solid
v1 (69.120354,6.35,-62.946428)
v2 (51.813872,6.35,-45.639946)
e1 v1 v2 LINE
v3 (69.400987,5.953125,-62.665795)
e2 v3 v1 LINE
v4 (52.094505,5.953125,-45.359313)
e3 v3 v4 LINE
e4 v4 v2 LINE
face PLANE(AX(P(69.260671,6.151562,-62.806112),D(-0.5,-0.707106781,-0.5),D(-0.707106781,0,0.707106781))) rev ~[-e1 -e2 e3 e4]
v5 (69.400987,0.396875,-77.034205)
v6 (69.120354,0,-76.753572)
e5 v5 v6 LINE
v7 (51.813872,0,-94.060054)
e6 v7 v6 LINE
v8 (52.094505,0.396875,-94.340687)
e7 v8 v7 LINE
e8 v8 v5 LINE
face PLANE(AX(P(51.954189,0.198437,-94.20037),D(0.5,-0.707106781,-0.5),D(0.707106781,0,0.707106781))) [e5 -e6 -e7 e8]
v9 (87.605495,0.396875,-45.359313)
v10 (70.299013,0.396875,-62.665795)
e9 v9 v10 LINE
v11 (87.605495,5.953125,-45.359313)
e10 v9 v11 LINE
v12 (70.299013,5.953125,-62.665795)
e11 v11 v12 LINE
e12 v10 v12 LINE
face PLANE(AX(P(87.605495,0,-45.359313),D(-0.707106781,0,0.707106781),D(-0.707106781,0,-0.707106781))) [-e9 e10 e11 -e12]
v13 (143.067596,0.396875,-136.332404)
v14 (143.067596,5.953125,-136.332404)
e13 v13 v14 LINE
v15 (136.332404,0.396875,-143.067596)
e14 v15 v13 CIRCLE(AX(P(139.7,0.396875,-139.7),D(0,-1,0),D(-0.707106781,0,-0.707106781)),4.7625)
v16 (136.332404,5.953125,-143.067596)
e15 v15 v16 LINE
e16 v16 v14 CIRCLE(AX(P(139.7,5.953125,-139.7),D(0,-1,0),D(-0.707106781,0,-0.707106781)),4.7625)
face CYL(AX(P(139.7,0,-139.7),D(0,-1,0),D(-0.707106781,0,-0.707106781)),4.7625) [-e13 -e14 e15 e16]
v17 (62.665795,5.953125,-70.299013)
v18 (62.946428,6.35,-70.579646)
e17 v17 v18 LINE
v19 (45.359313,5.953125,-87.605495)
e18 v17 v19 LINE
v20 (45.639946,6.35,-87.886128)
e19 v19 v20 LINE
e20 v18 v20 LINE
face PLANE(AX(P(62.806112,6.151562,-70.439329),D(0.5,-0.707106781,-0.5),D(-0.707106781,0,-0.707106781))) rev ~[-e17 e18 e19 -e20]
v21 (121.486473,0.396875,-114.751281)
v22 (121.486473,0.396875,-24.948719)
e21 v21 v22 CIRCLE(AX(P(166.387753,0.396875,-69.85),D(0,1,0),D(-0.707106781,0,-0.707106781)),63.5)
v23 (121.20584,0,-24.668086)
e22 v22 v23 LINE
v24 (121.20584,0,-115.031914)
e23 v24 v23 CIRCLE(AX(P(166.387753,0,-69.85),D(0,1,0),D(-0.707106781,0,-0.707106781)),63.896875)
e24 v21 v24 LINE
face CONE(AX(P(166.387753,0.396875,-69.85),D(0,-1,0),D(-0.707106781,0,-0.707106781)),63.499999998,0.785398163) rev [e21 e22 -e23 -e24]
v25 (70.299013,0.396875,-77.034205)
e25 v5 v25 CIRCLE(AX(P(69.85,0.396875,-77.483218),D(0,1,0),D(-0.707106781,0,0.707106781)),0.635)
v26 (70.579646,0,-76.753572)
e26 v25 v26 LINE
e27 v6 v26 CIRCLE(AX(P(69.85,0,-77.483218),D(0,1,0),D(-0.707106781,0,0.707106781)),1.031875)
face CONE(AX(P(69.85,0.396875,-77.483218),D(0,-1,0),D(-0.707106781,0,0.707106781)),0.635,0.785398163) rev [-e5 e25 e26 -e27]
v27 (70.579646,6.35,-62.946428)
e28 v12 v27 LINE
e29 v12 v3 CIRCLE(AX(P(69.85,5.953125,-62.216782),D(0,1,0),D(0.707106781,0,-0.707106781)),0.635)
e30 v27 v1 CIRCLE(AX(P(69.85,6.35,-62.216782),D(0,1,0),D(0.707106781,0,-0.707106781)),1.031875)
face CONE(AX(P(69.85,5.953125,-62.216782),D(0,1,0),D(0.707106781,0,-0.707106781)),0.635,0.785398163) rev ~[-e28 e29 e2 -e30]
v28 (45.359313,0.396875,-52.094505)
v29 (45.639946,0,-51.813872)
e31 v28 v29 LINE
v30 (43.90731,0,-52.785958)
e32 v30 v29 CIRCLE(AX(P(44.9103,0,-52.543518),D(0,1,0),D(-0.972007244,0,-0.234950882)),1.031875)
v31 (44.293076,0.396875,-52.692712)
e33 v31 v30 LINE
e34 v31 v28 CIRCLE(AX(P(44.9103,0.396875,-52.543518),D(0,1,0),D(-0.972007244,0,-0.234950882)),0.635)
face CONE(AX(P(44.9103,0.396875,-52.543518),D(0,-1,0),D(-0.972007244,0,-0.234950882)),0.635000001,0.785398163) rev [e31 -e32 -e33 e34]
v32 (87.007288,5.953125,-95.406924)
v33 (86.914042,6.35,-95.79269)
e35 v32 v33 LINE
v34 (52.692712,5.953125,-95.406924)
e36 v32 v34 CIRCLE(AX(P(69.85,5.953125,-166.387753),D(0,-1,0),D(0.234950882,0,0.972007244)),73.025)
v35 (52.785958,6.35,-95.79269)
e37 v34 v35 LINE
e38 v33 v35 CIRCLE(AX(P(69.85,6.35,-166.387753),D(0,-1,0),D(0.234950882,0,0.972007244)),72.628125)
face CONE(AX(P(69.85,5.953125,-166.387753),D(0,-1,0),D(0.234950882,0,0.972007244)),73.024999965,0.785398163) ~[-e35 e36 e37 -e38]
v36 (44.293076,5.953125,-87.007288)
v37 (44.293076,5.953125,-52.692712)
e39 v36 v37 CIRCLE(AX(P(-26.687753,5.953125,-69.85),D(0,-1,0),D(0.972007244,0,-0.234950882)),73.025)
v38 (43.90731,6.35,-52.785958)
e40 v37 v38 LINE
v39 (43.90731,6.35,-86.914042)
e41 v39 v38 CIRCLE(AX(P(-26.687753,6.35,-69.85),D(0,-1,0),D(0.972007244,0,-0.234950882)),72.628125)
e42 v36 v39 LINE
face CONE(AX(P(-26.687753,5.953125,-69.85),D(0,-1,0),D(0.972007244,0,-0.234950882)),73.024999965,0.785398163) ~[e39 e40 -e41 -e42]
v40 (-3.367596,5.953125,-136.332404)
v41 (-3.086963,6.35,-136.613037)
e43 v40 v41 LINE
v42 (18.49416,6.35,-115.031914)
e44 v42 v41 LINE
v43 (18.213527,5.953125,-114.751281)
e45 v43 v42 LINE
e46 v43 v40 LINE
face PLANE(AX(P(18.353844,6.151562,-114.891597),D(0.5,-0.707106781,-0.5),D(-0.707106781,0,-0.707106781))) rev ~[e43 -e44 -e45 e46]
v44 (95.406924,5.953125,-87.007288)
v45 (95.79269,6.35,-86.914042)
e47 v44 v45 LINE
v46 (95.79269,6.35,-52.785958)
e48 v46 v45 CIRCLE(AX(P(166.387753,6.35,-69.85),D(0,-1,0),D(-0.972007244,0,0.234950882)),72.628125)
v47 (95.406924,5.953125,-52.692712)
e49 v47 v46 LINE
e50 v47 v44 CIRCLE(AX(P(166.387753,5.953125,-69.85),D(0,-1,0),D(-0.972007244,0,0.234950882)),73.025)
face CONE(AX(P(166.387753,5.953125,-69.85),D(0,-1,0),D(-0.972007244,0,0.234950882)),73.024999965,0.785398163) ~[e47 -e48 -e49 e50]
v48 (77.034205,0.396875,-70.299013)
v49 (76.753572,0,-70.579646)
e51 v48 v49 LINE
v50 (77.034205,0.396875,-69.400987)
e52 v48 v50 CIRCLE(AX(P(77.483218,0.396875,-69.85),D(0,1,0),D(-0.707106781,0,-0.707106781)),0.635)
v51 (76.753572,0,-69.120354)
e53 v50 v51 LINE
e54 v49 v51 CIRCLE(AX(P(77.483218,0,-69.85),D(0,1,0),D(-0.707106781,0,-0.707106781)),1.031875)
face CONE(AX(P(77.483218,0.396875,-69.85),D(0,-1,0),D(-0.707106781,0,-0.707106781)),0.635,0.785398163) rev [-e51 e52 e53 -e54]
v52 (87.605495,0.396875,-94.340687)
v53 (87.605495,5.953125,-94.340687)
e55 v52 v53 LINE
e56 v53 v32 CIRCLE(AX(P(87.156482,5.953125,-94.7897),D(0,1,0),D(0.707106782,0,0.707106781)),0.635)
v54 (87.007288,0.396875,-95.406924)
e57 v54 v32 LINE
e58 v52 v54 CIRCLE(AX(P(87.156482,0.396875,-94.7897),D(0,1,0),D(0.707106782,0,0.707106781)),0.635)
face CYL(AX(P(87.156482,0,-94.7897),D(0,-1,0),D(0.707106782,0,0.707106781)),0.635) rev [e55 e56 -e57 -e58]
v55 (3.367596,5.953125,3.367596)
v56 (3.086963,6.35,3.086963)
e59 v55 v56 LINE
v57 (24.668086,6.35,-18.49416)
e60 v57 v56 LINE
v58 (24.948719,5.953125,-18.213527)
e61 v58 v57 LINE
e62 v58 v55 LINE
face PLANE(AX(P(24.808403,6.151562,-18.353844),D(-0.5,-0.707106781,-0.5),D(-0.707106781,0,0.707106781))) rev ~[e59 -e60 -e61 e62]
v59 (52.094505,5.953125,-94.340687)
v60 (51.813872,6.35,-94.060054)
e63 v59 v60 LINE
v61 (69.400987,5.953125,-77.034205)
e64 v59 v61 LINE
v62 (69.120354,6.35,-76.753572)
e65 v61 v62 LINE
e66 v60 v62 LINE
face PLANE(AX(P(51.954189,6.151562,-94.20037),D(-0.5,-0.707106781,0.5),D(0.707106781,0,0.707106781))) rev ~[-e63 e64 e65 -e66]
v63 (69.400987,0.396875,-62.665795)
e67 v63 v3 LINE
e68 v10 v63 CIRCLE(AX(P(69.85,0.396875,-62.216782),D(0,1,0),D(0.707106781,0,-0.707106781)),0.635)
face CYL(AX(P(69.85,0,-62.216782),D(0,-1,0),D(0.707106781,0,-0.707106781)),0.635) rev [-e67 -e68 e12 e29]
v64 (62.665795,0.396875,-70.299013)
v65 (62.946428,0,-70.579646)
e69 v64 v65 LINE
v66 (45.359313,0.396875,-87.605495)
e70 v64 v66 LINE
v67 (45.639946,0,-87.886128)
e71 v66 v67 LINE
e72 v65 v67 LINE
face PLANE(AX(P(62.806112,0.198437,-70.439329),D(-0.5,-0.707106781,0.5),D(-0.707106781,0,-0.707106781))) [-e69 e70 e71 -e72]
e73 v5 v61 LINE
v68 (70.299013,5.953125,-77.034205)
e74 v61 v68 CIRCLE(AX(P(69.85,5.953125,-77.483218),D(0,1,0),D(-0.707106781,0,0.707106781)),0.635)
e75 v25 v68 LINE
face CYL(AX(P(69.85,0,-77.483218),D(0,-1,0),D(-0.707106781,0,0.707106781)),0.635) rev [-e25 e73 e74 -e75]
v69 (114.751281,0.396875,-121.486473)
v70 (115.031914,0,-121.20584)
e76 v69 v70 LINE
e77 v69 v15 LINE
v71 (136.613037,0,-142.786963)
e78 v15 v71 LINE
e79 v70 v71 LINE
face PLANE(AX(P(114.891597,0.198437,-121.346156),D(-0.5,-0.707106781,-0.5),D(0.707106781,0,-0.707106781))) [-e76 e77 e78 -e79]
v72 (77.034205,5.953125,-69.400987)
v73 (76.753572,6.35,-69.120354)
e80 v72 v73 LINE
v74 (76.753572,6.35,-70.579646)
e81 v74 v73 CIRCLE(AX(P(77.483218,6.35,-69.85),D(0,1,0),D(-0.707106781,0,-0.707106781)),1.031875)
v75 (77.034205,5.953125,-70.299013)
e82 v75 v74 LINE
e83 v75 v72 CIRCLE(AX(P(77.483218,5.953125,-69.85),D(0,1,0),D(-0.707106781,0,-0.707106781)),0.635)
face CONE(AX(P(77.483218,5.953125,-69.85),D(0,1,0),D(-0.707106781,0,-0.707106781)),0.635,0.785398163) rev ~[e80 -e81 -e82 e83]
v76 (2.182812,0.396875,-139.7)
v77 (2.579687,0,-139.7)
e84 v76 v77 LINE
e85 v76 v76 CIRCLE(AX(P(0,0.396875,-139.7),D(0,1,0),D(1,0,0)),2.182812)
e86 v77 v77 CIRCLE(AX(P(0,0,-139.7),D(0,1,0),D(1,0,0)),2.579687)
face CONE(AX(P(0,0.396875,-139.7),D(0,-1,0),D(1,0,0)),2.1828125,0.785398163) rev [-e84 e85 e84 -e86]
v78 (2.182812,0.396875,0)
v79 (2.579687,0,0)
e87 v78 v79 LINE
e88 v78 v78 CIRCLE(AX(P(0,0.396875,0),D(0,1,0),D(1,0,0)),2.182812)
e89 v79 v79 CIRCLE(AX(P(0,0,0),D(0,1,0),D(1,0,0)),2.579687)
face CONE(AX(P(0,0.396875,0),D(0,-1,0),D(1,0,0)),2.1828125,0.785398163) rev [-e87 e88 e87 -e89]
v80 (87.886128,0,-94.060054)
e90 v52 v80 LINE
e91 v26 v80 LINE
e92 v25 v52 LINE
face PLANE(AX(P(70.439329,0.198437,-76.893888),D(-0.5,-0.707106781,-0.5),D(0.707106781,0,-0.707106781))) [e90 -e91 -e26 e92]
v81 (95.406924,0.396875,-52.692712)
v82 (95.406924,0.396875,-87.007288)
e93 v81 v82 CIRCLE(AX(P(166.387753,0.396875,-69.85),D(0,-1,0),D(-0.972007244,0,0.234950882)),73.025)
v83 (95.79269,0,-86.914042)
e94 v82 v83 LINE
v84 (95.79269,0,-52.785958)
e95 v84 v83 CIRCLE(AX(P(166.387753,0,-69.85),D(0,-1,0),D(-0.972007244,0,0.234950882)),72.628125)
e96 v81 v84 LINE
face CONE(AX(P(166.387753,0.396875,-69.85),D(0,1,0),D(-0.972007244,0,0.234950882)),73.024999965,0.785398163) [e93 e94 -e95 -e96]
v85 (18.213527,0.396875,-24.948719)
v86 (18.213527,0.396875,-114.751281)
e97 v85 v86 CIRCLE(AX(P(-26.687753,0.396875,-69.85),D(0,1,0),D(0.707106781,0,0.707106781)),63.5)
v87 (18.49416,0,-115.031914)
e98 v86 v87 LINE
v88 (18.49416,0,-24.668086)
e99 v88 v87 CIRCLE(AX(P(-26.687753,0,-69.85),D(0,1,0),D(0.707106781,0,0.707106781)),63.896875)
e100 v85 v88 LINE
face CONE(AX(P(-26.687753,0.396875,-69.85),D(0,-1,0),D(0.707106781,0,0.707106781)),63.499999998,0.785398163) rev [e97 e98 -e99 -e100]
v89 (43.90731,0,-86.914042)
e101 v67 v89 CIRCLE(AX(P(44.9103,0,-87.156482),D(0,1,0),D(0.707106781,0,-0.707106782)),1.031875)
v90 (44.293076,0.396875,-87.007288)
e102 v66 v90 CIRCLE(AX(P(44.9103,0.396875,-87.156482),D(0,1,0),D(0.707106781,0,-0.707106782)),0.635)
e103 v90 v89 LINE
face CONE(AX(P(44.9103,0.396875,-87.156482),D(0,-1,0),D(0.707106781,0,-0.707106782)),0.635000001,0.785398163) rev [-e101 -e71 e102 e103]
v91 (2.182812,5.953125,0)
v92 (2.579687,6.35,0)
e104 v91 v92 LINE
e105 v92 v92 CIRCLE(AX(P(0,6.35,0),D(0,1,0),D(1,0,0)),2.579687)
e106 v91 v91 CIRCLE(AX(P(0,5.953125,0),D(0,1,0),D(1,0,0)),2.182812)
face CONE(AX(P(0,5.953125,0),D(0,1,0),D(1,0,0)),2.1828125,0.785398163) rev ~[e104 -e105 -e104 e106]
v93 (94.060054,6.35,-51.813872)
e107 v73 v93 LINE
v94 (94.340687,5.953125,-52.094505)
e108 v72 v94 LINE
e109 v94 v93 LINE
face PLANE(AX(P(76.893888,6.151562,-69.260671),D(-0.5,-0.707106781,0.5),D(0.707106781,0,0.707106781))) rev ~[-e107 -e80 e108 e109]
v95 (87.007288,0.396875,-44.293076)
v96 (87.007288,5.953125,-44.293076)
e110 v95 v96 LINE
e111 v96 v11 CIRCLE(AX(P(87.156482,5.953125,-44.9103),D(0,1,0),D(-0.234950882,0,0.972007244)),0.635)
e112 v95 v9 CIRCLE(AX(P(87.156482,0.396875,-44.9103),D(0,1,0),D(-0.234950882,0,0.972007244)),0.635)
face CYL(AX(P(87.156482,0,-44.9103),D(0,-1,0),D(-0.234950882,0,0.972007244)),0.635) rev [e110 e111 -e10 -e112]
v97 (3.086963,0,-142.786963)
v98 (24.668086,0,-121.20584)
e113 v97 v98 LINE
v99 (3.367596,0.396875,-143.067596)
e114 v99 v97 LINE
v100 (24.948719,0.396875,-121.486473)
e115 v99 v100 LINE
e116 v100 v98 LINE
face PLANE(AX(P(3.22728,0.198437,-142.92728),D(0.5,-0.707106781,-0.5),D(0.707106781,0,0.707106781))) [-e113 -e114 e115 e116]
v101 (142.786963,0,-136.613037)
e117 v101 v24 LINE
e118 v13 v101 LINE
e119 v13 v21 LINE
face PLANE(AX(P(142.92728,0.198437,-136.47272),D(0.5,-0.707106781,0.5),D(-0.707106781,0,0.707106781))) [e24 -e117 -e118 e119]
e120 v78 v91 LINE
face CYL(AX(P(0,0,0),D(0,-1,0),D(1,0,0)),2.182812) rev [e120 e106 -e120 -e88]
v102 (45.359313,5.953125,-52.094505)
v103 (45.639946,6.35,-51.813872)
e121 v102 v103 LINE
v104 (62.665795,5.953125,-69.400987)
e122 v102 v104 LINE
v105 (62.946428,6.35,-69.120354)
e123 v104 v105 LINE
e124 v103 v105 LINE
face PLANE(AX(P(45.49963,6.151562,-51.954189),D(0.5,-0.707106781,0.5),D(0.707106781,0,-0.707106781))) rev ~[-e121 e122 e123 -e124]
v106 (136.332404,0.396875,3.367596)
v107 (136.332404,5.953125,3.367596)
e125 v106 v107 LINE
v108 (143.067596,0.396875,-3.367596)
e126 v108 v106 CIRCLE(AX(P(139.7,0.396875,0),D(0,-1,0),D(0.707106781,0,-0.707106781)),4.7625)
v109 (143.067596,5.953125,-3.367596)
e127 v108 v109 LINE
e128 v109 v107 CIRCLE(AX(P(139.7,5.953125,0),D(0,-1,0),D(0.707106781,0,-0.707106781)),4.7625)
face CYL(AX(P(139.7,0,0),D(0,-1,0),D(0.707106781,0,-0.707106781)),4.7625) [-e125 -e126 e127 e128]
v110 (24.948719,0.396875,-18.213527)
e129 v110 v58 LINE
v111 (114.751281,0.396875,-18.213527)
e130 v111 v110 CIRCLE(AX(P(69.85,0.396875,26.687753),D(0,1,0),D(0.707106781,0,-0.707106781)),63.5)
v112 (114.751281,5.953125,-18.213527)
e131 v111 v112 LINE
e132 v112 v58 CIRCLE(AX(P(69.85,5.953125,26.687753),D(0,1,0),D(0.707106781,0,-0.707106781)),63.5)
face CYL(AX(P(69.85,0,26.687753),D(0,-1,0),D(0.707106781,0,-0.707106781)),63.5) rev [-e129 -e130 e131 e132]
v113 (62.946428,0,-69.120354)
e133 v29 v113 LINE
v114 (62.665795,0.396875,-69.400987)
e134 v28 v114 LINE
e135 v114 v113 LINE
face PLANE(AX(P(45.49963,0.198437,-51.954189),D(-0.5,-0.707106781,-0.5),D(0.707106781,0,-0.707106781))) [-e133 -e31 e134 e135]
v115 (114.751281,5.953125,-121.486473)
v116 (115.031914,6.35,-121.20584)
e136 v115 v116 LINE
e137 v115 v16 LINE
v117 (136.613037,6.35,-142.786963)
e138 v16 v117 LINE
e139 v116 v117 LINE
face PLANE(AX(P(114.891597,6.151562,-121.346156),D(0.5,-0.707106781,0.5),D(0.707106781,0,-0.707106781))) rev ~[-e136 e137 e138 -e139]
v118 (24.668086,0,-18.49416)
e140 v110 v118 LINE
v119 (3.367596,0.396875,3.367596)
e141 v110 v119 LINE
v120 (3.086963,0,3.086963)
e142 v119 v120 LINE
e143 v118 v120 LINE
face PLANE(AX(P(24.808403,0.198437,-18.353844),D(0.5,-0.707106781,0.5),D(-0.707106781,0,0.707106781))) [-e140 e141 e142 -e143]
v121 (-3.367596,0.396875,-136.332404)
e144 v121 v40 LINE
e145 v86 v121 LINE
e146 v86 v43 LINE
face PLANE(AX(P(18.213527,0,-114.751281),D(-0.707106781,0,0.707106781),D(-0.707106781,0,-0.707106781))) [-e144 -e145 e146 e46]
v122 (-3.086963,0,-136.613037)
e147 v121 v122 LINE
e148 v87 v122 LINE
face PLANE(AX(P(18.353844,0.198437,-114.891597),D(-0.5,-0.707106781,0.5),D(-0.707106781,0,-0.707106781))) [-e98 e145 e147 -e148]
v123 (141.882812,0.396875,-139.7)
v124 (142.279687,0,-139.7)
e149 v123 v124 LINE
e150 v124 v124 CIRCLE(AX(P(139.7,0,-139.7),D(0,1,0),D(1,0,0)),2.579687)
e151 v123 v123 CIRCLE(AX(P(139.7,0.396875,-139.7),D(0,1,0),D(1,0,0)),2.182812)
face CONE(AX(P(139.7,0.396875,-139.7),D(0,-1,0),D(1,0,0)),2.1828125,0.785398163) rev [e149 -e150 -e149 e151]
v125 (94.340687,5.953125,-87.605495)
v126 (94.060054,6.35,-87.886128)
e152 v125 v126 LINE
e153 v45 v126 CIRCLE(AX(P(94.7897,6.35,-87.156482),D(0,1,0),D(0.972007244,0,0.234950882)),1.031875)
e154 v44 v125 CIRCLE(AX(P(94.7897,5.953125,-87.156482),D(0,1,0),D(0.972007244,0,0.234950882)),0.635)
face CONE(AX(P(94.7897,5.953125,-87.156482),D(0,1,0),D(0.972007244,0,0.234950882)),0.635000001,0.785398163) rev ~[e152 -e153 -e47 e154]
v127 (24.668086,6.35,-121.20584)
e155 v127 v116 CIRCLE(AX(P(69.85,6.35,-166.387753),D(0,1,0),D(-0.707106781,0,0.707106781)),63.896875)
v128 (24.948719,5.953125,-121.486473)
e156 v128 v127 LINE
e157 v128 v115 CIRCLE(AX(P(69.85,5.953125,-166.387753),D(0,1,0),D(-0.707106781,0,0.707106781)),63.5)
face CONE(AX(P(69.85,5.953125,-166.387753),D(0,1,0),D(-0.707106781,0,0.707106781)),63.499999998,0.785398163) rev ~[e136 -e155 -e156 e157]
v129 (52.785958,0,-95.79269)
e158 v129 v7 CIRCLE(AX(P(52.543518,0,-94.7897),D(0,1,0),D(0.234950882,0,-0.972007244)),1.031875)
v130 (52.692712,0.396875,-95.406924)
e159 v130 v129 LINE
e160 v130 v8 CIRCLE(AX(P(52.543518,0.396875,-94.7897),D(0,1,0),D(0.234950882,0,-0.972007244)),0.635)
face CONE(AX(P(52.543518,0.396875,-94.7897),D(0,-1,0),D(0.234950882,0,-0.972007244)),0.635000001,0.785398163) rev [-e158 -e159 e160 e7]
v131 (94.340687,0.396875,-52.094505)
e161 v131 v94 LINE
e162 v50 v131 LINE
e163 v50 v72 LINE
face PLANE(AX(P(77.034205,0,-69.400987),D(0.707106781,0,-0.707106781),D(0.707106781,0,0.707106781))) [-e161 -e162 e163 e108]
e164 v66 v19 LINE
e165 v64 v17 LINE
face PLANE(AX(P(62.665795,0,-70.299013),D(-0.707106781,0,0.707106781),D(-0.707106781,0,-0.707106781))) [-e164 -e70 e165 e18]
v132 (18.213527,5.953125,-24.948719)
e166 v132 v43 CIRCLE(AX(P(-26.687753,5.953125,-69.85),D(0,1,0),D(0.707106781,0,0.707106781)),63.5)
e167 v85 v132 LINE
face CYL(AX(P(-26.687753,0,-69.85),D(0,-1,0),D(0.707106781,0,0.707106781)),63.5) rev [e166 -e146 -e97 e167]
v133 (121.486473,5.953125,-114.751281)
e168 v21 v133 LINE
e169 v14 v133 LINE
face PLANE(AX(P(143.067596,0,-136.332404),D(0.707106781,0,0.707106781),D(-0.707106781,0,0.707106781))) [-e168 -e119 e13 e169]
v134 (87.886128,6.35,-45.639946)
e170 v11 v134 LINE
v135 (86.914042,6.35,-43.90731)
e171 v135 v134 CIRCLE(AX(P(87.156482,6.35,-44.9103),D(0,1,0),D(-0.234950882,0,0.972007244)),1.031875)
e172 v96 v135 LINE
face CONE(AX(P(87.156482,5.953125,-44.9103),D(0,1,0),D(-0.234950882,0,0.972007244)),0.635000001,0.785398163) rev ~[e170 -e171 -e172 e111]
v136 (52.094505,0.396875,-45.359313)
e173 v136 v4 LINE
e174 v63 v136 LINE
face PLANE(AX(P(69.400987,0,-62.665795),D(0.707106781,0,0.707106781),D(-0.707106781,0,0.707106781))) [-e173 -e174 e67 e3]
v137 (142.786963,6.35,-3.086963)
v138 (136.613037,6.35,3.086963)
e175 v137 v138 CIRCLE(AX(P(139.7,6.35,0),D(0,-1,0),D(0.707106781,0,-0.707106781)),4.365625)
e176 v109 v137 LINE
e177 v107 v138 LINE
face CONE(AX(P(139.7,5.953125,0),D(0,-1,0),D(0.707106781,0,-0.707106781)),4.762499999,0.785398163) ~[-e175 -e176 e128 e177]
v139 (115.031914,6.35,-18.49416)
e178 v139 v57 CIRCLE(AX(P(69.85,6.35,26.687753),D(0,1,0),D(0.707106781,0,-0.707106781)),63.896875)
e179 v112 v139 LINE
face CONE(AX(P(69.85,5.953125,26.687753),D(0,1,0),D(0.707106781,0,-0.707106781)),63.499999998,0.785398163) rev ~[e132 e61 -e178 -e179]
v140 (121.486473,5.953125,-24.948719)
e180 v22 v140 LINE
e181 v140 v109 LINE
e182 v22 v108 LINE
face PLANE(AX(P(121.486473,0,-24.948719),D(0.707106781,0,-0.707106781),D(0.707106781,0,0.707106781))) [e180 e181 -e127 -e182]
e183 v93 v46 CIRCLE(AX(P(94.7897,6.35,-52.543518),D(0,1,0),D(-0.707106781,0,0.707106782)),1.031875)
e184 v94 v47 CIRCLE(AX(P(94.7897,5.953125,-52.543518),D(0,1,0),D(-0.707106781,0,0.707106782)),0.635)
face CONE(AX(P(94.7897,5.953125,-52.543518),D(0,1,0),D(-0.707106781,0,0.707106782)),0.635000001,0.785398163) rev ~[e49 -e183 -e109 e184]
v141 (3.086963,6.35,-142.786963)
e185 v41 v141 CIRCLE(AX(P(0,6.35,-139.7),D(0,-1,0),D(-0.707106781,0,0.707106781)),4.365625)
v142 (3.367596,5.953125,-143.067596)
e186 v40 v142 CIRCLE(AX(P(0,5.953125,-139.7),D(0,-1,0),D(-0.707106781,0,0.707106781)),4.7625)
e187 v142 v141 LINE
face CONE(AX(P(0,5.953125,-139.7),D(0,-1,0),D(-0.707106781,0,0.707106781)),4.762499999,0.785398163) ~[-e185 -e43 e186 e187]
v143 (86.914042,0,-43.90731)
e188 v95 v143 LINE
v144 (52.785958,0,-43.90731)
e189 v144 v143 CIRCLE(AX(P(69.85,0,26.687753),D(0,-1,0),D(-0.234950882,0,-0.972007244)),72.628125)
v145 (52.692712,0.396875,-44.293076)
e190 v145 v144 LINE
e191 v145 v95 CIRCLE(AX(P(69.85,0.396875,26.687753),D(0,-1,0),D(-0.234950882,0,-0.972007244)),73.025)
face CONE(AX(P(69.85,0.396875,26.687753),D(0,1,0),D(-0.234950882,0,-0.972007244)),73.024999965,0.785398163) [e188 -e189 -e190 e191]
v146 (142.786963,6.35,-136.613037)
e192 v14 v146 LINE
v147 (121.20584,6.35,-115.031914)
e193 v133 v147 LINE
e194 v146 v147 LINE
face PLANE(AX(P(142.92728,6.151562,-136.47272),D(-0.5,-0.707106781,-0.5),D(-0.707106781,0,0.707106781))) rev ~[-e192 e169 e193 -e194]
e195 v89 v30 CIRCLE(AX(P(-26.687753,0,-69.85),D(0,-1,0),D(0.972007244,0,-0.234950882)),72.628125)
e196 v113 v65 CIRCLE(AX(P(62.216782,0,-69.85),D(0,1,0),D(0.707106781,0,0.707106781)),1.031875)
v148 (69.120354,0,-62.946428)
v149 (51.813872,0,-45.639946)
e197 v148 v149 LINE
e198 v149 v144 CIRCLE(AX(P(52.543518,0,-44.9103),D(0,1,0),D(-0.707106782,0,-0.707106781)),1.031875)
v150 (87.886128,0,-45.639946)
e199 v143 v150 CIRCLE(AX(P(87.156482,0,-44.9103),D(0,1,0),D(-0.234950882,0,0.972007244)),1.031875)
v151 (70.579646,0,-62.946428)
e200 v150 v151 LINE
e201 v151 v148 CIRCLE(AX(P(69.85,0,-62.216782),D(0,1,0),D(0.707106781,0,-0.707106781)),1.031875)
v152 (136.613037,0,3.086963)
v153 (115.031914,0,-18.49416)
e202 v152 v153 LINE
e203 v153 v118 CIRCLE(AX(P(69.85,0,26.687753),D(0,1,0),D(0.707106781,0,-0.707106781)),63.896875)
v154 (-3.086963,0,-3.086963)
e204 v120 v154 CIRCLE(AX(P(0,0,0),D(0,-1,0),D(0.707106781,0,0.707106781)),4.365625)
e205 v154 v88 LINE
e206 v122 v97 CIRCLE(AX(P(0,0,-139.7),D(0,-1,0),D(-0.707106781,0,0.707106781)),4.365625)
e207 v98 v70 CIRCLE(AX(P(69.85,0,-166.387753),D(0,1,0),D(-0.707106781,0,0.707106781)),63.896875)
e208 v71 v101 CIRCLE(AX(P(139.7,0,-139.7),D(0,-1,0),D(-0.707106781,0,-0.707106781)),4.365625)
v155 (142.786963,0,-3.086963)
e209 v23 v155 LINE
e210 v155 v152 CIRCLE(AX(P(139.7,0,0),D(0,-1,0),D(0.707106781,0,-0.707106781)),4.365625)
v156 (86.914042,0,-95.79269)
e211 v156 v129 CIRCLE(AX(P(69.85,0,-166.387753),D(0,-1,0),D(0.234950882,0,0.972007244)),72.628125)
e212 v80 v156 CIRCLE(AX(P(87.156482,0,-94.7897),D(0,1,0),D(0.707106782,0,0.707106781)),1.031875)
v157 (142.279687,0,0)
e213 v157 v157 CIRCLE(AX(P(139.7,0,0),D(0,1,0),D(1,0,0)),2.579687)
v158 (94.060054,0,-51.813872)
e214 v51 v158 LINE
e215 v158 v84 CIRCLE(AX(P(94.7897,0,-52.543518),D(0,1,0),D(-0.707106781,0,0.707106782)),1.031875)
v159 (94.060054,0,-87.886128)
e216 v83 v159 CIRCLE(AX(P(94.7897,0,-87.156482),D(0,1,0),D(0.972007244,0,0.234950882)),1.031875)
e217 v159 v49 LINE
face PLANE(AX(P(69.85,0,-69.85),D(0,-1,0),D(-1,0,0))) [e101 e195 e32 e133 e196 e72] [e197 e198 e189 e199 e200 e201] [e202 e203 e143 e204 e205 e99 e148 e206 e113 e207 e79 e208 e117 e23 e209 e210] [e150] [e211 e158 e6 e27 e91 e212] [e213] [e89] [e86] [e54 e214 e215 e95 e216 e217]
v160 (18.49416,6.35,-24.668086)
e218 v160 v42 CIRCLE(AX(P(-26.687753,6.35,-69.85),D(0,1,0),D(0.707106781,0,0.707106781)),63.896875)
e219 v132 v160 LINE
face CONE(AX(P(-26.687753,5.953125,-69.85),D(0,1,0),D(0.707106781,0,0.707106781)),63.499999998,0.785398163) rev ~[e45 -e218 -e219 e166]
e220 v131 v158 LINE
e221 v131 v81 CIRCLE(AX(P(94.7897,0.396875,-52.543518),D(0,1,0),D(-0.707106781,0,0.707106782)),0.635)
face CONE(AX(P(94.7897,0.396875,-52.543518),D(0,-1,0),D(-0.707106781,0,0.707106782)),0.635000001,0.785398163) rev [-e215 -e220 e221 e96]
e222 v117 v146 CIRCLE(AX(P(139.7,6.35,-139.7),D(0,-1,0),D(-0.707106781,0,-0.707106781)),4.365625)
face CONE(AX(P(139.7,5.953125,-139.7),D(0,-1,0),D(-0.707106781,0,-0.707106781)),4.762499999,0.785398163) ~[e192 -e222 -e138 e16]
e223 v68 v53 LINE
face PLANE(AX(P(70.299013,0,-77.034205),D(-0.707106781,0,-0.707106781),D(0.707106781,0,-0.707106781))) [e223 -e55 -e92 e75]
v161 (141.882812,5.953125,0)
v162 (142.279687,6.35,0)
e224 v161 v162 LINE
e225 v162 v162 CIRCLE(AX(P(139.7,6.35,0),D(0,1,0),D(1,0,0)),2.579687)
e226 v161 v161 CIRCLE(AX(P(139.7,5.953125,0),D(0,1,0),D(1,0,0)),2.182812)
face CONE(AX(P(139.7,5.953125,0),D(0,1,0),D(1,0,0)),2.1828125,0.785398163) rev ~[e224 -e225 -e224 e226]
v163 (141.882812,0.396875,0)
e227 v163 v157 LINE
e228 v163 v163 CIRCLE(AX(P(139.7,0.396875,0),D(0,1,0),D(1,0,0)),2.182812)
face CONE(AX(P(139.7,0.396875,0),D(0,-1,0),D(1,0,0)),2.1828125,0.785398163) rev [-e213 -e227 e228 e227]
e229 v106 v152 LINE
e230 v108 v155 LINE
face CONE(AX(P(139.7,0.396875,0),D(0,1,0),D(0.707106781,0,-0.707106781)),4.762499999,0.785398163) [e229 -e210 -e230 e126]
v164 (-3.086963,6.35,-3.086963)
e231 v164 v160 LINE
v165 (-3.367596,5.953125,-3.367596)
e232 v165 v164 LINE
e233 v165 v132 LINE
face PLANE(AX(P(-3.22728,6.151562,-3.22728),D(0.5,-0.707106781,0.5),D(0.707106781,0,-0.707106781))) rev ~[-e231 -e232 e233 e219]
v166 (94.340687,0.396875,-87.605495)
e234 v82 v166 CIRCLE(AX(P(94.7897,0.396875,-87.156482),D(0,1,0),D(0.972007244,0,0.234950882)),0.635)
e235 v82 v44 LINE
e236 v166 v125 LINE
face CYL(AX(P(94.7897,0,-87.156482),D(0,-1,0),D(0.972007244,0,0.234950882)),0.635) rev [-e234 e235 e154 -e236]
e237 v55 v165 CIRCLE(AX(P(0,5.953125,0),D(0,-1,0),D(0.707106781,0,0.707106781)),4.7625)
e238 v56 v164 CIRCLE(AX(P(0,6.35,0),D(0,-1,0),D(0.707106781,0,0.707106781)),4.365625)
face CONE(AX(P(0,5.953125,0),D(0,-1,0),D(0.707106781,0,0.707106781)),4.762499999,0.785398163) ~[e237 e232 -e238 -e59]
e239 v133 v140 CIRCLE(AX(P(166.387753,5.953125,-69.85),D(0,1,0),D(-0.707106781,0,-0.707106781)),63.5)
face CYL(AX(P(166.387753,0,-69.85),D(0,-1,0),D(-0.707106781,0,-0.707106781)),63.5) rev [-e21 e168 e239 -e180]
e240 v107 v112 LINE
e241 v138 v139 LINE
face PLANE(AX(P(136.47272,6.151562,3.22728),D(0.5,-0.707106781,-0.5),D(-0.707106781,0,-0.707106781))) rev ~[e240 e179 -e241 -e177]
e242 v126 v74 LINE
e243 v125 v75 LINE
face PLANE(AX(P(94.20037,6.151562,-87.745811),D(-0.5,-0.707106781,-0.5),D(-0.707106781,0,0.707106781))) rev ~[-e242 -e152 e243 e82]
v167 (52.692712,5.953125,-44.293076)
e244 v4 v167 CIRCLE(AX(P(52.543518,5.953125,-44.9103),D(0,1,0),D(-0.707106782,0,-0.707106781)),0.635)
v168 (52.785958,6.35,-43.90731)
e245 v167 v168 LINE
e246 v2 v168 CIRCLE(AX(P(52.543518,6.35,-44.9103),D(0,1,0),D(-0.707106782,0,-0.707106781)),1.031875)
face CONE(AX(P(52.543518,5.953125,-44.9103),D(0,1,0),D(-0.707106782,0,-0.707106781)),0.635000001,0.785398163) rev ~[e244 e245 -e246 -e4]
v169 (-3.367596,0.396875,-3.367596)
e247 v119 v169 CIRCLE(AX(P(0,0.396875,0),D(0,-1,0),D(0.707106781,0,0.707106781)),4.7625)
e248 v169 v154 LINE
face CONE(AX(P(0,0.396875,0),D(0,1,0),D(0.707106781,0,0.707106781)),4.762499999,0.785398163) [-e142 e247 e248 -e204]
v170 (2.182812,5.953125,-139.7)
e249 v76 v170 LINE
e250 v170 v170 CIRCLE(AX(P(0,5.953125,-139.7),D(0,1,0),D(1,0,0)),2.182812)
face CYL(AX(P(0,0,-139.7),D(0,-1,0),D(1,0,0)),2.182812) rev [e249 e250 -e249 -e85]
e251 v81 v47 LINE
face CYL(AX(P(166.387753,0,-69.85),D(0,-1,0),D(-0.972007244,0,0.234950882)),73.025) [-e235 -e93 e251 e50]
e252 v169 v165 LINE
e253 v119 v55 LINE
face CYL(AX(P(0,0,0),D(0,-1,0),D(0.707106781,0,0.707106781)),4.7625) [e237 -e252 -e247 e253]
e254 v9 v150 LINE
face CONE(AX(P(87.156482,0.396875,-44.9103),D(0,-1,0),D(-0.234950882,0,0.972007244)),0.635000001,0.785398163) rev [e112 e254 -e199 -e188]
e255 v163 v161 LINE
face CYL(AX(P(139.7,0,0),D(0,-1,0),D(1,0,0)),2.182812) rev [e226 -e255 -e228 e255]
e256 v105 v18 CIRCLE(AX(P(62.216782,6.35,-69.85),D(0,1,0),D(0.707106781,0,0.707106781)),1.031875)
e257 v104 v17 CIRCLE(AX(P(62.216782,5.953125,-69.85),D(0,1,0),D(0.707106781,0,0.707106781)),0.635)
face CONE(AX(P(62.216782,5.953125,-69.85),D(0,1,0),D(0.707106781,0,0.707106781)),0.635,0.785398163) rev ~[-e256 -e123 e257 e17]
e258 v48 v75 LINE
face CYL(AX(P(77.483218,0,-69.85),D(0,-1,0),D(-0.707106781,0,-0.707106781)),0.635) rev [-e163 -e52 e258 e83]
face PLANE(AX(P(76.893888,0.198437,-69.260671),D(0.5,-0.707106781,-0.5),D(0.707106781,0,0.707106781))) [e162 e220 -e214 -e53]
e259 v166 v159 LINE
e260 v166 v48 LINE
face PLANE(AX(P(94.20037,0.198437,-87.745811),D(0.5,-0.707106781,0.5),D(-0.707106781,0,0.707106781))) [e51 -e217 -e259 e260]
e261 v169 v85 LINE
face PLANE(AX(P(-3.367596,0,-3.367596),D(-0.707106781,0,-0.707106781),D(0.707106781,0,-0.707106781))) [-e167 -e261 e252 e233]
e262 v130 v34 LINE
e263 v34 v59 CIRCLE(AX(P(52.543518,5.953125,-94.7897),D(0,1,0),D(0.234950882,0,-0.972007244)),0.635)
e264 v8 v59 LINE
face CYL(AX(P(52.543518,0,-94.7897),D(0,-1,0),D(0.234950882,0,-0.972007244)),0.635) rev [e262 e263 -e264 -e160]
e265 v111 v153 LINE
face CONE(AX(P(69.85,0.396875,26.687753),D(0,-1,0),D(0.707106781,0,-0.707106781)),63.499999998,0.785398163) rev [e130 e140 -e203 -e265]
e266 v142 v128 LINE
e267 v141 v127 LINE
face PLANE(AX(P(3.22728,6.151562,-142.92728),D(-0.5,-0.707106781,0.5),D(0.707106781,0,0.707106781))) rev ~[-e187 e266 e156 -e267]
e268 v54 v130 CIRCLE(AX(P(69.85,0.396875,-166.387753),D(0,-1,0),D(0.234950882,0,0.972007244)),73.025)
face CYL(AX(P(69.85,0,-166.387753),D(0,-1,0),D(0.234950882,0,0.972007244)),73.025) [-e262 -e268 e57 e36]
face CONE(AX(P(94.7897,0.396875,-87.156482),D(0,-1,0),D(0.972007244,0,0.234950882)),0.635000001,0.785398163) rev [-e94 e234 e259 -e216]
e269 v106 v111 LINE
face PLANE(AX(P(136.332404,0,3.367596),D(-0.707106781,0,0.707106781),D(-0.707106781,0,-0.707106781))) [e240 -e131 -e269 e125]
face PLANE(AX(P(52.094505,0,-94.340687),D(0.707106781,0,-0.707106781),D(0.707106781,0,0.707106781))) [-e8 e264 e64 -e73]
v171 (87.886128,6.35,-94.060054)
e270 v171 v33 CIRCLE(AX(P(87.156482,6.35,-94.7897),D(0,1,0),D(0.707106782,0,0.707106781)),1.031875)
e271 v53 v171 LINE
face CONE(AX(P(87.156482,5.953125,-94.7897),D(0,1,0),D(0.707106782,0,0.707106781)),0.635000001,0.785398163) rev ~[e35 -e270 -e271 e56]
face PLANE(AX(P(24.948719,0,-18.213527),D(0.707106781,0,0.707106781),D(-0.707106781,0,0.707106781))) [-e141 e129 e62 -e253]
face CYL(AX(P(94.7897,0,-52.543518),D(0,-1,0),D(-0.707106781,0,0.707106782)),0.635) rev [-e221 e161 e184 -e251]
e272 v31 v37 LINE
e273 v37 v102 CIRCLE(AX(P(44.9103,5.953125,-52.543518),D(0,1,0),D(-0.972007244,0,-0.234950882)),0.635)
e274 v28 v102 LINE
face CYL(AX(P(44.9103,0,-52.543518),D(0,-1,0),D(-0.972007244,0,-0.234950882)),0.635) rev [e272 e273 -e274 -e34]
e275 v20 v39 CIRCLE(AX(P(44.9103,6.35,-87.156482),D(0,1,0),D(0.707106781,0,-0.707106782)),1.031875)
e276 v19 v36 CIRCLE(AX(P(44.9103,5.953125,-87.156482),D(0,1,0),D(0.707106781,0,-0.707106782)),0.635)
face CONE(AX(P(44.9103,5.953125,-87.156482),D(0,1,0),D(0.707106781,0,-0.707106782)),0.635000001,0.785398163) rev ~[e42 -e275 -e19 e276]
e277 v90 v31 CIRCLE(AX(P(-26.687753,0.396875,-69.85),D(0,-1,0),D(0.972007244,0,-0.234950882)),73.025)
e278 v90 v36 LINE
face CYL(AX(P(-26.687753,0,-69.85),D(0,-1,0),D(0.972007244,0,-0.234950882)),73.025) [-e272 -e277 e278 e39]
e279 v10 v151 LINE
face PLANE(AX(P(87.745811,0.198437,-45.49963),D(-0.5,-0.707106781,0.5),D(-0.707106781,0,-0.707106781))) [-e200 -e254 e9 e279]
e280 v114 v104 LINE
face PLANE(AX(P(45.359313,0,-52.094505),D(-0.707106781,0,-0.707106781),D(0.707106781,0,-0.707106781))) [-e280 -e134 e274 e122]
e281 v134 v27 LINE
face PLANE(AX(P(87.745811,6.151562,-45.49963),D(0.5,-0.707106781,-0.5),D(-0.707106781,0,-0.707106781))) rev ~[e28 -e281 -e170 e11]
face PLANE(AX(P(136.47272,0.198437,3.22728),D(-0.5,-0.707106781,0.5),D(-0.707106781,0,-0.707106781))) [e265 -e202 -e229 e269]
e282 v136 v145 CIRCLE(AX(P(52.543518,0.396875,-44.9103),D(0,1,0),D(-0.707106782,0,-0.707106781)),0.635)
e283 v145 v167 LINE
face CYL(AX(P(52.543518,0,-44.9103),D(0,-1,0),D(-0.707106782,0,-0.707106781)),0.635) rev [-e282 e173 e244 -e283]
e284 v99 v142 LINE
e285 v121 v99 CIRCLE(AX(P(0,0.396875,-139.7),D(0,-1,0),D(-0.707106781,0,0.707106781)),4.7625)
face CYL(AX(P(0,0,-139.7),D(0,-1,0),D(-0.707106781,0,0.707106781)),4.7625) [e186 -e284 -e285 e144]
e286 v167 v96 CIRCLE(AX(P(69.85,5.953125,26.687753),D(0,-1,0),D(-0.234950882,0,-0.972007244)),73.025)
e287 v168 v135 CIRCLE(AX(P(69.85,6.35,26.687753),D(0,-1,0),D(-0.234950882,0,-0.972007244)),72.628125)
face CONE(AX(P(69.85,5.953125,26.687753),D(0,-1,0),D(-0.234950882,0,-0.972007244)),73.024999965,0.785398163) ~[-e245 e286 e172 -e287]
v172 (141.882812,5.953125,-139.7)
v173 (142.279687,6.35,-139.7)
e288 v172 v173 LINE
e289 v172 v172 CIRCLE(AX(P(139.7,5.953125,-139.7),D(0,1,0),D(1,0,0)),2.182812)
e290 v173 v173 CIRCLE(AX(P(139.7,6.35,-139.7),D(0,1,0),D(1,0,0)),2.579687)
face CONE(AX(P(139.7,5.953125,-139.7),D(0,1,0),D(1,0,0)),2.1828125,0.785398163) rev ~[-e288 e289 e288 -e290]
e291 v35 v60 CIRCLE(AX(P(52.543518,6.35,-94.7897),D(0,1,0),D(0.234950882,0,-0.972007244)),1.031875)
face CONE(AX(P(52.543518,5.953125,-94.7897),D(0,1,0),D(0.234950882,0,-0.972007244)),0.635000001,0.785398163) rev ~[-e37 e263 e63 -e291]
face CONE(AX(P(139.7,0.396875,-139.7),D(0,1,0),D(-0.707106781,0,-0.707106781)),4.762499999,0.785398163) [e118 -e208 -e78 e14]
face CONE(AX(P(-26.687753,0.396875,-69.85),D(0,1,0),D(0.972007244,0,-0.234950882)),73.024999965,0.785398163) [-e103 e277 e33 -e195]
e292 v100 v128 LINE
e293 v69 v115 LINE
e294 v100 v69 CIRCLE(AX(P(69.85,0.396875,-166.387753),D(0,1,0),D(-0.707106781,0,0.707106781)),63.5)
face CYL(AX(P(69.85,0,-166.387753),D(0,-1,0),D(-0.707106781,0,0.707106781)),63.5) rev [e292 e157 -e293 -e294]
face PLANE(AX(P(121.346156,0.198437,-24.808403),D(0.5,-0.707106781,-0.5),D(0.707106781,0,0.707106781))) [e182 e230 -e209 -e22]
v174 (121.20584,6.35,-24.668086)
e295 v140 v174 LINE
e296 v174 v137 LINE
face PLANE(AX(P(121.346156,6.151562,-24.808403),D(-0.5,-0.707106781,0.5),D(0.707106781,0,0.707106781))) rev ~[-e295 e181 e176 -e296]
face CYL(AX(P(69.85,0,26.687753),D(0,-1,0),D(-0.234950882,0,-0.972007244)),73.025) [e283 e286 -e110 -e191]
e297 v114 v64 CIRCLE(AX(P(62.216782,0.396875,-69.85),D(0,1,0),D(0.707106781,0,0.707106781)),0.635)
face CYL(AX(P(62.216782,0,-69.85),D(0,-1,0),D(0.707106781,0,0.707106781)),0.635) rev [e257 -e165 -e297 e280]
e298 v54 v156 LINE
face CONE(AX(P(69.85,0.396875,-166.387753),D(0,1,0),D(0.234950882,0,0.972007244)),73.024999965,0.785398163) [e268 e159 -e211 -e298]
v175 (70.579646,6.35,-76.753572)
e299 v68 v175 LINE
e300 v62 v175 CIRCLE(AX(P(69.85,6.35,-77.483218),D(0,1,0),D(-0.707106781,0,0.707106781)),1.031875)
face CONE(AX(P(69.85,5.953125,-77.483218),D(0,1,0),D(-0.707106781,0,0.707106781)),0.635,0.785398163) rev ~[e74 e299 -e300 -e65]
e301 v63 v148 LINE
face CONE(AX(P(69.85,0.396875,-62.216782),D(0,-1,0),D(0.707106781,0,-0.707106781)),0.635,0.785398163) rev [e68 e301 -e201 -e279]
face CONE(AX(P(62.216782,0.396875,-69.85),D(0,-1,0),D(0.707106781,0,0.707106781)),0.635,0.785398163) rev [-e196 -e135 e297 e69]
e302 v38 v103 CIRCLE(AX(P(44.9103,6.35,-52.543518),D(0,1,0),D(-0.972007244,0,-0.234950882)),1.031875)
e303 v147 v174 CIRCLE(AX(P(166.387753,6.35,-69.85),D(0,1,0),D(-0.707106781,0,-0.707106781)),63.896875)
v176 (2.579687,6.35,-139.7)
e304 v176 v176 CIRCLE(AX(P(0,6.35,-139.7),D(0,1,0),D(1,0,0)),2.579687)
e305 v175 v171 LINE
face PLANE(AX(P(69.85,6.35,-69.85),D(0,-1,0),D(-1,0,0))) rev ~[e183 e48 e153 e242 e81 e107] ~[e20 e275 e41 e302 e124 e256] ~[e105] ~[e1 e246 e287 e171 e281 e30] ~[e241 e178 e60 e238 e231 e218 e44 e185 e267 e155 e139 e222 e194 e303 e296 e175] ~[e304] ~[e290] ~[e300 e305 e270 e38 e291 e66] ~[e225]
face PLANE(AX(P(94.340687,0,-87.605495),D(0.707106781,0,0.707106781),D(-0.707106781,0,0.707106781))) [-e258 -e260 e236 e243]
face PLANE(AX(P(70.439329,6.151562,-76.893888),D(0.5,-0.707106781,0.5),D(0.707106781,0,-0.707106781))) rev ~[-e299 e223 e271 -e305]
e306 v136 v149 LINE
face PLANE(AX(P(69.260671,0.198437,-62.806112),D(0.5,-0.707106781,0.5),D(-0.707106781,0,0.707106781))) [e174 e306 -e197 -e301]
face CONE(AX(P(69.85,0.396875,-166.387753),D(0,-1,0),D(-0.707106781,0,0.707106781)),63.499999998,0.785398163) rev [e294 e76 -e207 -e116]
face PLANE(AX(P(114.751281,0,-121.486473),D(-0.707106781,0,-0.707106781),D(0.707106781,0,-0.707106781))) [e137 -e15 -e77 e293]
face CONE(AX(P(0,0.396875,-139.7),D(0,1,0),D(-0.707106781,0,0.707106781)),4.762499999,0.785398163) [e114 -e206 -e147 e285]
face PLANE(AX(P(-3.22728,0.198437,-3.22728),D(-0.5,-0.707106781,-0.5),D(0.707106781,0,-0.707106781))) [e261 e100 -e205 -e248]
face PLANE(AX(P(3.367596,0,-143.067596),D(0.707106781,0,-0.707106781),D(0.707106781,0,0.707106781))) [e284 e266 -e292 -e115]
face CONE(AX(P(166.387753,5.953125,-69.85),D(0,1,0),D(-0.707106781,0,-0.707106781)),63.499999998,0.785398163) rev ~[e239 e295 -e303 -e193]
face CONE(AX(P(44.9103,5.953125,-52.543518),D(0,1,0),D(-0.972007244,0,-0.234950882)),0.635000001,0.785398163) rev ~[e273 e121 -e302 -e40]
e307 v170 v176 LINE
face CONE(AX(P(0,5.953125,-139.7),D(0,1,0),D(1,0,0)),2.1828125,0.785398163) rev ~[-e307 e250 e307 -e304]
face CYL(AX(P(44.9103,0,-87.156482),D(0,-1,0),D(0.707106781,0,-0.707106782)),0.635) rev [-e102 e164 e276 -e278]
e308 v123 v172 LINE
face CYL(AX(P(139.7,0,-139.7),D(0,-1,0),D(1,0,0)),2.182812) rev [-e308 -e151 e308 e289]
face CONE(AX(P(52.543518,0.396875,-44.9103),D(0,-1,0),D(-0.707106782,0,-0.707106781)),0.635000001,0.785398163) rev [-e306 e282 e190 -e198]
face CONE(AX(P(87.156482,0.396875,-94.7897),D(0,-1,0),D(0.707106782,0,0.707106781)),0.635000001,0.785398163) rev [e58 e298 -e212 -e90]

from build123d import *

# Parameters (mm, degrees)
SKETCH1_R           = 2.1828125
BOSS_EXTRUDE1_DEPTH = 6.35
CHAMFER1_SIZE       = 0.396875


with BuildPart() as part:
    # Sketch1 → Boss-Extrude1 (new body)
    with BuildSketch(Plane(origin=(0, 0, 0), x_dir=(1, 0, 0), z_dir=(0, 1, 0))):
        with BuildLine():
            Line((-3.367596045, 3.367596045), (18.213527304, 24.948719395))
            ThreePointArc((18.213527304, 24.948719395), (36.812246699, 69.85), (18.213527304, 114.751280605))
            Line((18.213527304, 114.751280605), (-3.367596045, 136.332403955))
            ThreePointArc((-3.367596045, 136.332403955), (-3.367596045, 143.067596045), (3.367596045, 143.067596045))
            Line((3.367596045, 143.067596045), (24.948719395, 121.486472696))
            ThreePointArc((24.948719395, 121.486472696), (69.85, 102.887753301), (114.751280605, 121.486472696))
            Line((114.751280605, 121.486472696), (136.332403955, 143.067596045))
            ThreePointArc((136.332403955, 143.067596045), (143.067596045, 143.067596045), (143.067596045, 136.332403955))
            Line((143.067596045, 136.332403955), (121.486472696, 114.751280605))
            ThreePointArc((121.486472696, 114.751280605), (102.887753301, 69.85), (121.486472696, 24.948719395))
            Line((121.486472696, 24.948719395), (143.067596045, 3.367596045))
            ThreePointArc((143.067596045, 3.367596045), (143.067596045, -3.367596045), (136.332403955, -3.367596045))
            Line((136.332403955, -3.367596045), (114.751280605, 18.213527304))
            ThreePointArc((114.751280605, 18.213527304), (69.85, 36.812246699), (24.948719395, 18.213527304))
            Line((24.948719395, 18.213527304), (3.367596045, -3.367596045))
            ThreePointArc((3.367596045, -3.367596045), (-3.367596045, -3.367596045), (-3.367596045, 3.367596045))
        make_face()
        with Locations((0, 139.7)):
            Circle(SKETCH1_R, mode=Mode.SUBTRACT)
        Circle(SKETCH1_R, mode=Mode.SUBTRACT)
        with Locations((139.7, 0)):
            Circle(SKETCH1_R, mode=Mode.SUBTRACT)
        with Locations((139.7, 139.7)):
            Circle(SKETCH1_R, mode=Mode.SUBTRACT)
        with BuildLine():
            Line((45.359313119, 52.094505209), (62.665795103, 69.400987194))
            ThreePointArc((62.665795103, 69.400987194), (62.851782297, 69.85), (62.665795103, 70.299012806))
            Line((62.665795103, 70.299012806), (45.359313119, 87.605494791))
            ThreePointArc((45.359313119, 87.605494791), (44.599596932, 87.71027654), (44.293075712, 87.007288174))
            ThreePointArc((44.293075712, 87.007288174), (46.337246699, 69.85), (44.293075712, 52.692711826))
            ThreePointArc((44.293075712, 52.692711826), (44.599596932, 51.98972346), (45.359313119, 52.094505209))
        make_face(mode=Mode.SUBTRACT)
        with BuildLine():
            Line((94.340686881, 87.605494791), (77.034204897, 70.299012806))
            ThreePointArc((77.034204897, 70.299012806), (76.848217703, 69.85), (77.034204897, 69.400987194))
            Line((77.034204897, 69.400987194), (94.340686881, 52.094505209))
            ThreePointArc((94.340686881, 52.094505209), (95.100403068, 51.98972346), (95.406924288, 52.692711826))
            ThreePointArc((95.406924288, 52.692711826), (93.362753301, 69.85), (95.406924288, 87.007288174))
            ThreePointArc((95.406924288, 87.007288174), (95.100403068, 87.71027654), (94.340686881, 87.605494791))
        make_face(mode=Mode.SUBTRACT)
        with BuildLine():
            Line((87.605494791, 45.359313119), (70.299012806, 62.665795103))
            ThreePointArc((70.299012806, 62.665795103), (69.85, 62.851782297), (69.400987194, 62.665795103))
            Line((69.400987194, 62.665795103), (52.094505209, 45.359313119))
            ThreePointArc((52.094505209, 45.359313119), (51.98972346, 44.599596932), (52.692711826, 44.293075712))
            ThreePointArc((52.692711826, 44.293075712), (69.85, 46.337246699), (87.007288174, 44.293075712))
            ThreePointArc((87.007288174, 44.293075712), (87.71027654, 44.599596932), (87.605494791, 45.359313119))
        make_face(mode=Mode.SUBTRACT)
        with BuildLine():
            Line((52.094505209, 94.340686881), (69.400987194, 77.034204897))
            ThreePointArc((69.400987194, 77.034204897), (69.85, 76.848217703), (70.299012806, 77.034204897))
            Line((70.299012806, 77.034204897), (87.605494791, 94.340686881))
            ThreePointArc((87.605494791, 94.340686881), (87.71027654, 95.100403068), (87.007288174, 95.406924288))
            ThreePointArc((87.007288174, 95.406924288), (69.85, 93.362753301), (52.692711826, 95.406924288))
            ThreePointArc((52.692711826, 95.406924288), (51.98972346, 95.100403068), (52.094505209, 94.340686881))
        make_face(mode=Mode.SUBTRACT)
    extrude(amount=BOSS_EXTRUDE1_DEPTH)

    # Chamfer1
    chamfer1_edges = [part.edges().sort_by_distance(p)[0] for p in [
        (125.54184228, 6.35, -132.277034371),
        (69.85, 6.35, -102.887753301),
        (14.15815772, 6.35, -132.277034371),
        (-3.367596045, 6.35, -143.067596045),
        (7.422965629, 6.35, -125.54184228),
        (36.812246699, 6.35, -69.85),
        (7.422965629, 6.35, -14.15815772),
        (-3.367596045, 6.35, 3.367596045),
        (44.599596932, 6.35, -51.98972346),
        (85.687445889, 6.35, -60.747746202),
        (76.848217703, 6.35, -69.85),
        (85.687445889, 6.35, -78.952253798),
        (95.100403068, 6.35, -87.71027654),
        (93.362753301, 6.35, -69.85),
        (95.100403068, 6.35, -51.98972346),
        (78.952253798, 6.35, -85.687445889),
        (69.85, 6.35, -76.848217703),
        (60.747746202, 6.35, -85.687445889),
        (51.98972346, 6.35, -95.100403068),
        (46.337246699, 6.35, -69.85),
        (69.85, 6.35, -93.362753301),
        (87.71027654, 6.35, -95.100403068),
        (69.85, 6.35, -46.337246699),
        (51.98972346, 6.35, -44.599596932),
        (60.747746202, 6.35, -54.012554111),
        (69.85, 6.35, -62.851782297),
        (78.952253798, 6.35, -54.012554111),
        (87.71027654, 6.35, -44.599596932),
        (44.599596932, 6.35, -87.71027654),
        (54.012554111, 6.35, -78.952253798),
        (62.851782297, 6.35, -69.85),
        (54.012554111, 6.35, -60.747746202),
        (-2.1828125, 6.35, -139.7),
        (87.71027654, 0, -44.599596932),
        (-2.1828125, 6.35, 0),
        (78.952253798, 0, -54.012554111),
        (69.85, 0, -62.851782297),
        (60.747746202, 0, -54.012554111),
        (51.98972346, 0, -44.599596932),
        (69.85, 0, -46.337246699),
        (87.71027654, 0, -95.100403068),
        (69.85, 0, -93.362753301),
        (51.98972346, 0, -95.100403068),
        (60.747746202, 0, -85.687445889),
        (69.85, 0, -76.848217703),
        (137.5171875, 6.35, 0),
        (78.952253798, 0, -85.687445889),
        (95.100403068, 0, -51.98972346),
        (93.362753301, 0, -69.85),
        (95.100403068, 0, -87.71027654),
        (85.687445889, 0, -78.952253798),
        (76.848217703, 0, -69.85),
        (85.687445889, 0, -60.747746202),
        (-3.367596045, 0, 3.367596045),
        (7.422965629, 0, -14.15815772),
        (36.812246699, 0, -69.85),
        (137.5171875, 6.35, -139.7),
        (7.422965629, 0, -125.54184228),
        (-3.367596045, 0, -143.067596045),
        (14.15815772, 0, -132.277034371),
        (69.85, 0, -102.887753301),
        (125.54184228, 0, -132.277034371),
        (143.067596045, 0, -143.067596045),
        (132.277034371, 0, -125.54184228),
        (102.887753301, 0, -69.85),
        (132.277034371, 0, -14.15815772),
        (143.067596045, 0, 3.367596045),
        (14.15815772, 6.35, -7.422965629),
        (125.54184228, 0, -7.422965629),
        (69.85, 0, -36.812246699),
        (14.15815772, 0, -7.422965629),
        (137.5171875, 0, -139.7),
        (137.5171875, 0, 0),
        (-2.1828125, 0, 0),
        (-2.1828125, 0, -139.7),
        (54.012554111, 0, -60.747746202),
        (62.851782297, 0, -69.85),
        (54.012554111, 0, -78.952253798),
        (69.85, 6.35, -36.812246699),
        (44.599596932, 0, -87.71027654),
        (46.337246699, 0, -69.85),
        (44.599596932, 0, -51.98972346),
        (125.54184228, 6.35, -7.422965629),
        (143.067596045, 6.35, 3.367596045),
        (132.277034371, 6.35, -14.15815772),
        (102.887753301, 6.35, -69.85),
        (132.277034371, 6.35, -125.54184228),
        (143.067596045, 6.35, -143.067596045),
    ]]
    chamfer(chamfer1_edges, length=CHAMFER1_SIZE)


solid = part.part
